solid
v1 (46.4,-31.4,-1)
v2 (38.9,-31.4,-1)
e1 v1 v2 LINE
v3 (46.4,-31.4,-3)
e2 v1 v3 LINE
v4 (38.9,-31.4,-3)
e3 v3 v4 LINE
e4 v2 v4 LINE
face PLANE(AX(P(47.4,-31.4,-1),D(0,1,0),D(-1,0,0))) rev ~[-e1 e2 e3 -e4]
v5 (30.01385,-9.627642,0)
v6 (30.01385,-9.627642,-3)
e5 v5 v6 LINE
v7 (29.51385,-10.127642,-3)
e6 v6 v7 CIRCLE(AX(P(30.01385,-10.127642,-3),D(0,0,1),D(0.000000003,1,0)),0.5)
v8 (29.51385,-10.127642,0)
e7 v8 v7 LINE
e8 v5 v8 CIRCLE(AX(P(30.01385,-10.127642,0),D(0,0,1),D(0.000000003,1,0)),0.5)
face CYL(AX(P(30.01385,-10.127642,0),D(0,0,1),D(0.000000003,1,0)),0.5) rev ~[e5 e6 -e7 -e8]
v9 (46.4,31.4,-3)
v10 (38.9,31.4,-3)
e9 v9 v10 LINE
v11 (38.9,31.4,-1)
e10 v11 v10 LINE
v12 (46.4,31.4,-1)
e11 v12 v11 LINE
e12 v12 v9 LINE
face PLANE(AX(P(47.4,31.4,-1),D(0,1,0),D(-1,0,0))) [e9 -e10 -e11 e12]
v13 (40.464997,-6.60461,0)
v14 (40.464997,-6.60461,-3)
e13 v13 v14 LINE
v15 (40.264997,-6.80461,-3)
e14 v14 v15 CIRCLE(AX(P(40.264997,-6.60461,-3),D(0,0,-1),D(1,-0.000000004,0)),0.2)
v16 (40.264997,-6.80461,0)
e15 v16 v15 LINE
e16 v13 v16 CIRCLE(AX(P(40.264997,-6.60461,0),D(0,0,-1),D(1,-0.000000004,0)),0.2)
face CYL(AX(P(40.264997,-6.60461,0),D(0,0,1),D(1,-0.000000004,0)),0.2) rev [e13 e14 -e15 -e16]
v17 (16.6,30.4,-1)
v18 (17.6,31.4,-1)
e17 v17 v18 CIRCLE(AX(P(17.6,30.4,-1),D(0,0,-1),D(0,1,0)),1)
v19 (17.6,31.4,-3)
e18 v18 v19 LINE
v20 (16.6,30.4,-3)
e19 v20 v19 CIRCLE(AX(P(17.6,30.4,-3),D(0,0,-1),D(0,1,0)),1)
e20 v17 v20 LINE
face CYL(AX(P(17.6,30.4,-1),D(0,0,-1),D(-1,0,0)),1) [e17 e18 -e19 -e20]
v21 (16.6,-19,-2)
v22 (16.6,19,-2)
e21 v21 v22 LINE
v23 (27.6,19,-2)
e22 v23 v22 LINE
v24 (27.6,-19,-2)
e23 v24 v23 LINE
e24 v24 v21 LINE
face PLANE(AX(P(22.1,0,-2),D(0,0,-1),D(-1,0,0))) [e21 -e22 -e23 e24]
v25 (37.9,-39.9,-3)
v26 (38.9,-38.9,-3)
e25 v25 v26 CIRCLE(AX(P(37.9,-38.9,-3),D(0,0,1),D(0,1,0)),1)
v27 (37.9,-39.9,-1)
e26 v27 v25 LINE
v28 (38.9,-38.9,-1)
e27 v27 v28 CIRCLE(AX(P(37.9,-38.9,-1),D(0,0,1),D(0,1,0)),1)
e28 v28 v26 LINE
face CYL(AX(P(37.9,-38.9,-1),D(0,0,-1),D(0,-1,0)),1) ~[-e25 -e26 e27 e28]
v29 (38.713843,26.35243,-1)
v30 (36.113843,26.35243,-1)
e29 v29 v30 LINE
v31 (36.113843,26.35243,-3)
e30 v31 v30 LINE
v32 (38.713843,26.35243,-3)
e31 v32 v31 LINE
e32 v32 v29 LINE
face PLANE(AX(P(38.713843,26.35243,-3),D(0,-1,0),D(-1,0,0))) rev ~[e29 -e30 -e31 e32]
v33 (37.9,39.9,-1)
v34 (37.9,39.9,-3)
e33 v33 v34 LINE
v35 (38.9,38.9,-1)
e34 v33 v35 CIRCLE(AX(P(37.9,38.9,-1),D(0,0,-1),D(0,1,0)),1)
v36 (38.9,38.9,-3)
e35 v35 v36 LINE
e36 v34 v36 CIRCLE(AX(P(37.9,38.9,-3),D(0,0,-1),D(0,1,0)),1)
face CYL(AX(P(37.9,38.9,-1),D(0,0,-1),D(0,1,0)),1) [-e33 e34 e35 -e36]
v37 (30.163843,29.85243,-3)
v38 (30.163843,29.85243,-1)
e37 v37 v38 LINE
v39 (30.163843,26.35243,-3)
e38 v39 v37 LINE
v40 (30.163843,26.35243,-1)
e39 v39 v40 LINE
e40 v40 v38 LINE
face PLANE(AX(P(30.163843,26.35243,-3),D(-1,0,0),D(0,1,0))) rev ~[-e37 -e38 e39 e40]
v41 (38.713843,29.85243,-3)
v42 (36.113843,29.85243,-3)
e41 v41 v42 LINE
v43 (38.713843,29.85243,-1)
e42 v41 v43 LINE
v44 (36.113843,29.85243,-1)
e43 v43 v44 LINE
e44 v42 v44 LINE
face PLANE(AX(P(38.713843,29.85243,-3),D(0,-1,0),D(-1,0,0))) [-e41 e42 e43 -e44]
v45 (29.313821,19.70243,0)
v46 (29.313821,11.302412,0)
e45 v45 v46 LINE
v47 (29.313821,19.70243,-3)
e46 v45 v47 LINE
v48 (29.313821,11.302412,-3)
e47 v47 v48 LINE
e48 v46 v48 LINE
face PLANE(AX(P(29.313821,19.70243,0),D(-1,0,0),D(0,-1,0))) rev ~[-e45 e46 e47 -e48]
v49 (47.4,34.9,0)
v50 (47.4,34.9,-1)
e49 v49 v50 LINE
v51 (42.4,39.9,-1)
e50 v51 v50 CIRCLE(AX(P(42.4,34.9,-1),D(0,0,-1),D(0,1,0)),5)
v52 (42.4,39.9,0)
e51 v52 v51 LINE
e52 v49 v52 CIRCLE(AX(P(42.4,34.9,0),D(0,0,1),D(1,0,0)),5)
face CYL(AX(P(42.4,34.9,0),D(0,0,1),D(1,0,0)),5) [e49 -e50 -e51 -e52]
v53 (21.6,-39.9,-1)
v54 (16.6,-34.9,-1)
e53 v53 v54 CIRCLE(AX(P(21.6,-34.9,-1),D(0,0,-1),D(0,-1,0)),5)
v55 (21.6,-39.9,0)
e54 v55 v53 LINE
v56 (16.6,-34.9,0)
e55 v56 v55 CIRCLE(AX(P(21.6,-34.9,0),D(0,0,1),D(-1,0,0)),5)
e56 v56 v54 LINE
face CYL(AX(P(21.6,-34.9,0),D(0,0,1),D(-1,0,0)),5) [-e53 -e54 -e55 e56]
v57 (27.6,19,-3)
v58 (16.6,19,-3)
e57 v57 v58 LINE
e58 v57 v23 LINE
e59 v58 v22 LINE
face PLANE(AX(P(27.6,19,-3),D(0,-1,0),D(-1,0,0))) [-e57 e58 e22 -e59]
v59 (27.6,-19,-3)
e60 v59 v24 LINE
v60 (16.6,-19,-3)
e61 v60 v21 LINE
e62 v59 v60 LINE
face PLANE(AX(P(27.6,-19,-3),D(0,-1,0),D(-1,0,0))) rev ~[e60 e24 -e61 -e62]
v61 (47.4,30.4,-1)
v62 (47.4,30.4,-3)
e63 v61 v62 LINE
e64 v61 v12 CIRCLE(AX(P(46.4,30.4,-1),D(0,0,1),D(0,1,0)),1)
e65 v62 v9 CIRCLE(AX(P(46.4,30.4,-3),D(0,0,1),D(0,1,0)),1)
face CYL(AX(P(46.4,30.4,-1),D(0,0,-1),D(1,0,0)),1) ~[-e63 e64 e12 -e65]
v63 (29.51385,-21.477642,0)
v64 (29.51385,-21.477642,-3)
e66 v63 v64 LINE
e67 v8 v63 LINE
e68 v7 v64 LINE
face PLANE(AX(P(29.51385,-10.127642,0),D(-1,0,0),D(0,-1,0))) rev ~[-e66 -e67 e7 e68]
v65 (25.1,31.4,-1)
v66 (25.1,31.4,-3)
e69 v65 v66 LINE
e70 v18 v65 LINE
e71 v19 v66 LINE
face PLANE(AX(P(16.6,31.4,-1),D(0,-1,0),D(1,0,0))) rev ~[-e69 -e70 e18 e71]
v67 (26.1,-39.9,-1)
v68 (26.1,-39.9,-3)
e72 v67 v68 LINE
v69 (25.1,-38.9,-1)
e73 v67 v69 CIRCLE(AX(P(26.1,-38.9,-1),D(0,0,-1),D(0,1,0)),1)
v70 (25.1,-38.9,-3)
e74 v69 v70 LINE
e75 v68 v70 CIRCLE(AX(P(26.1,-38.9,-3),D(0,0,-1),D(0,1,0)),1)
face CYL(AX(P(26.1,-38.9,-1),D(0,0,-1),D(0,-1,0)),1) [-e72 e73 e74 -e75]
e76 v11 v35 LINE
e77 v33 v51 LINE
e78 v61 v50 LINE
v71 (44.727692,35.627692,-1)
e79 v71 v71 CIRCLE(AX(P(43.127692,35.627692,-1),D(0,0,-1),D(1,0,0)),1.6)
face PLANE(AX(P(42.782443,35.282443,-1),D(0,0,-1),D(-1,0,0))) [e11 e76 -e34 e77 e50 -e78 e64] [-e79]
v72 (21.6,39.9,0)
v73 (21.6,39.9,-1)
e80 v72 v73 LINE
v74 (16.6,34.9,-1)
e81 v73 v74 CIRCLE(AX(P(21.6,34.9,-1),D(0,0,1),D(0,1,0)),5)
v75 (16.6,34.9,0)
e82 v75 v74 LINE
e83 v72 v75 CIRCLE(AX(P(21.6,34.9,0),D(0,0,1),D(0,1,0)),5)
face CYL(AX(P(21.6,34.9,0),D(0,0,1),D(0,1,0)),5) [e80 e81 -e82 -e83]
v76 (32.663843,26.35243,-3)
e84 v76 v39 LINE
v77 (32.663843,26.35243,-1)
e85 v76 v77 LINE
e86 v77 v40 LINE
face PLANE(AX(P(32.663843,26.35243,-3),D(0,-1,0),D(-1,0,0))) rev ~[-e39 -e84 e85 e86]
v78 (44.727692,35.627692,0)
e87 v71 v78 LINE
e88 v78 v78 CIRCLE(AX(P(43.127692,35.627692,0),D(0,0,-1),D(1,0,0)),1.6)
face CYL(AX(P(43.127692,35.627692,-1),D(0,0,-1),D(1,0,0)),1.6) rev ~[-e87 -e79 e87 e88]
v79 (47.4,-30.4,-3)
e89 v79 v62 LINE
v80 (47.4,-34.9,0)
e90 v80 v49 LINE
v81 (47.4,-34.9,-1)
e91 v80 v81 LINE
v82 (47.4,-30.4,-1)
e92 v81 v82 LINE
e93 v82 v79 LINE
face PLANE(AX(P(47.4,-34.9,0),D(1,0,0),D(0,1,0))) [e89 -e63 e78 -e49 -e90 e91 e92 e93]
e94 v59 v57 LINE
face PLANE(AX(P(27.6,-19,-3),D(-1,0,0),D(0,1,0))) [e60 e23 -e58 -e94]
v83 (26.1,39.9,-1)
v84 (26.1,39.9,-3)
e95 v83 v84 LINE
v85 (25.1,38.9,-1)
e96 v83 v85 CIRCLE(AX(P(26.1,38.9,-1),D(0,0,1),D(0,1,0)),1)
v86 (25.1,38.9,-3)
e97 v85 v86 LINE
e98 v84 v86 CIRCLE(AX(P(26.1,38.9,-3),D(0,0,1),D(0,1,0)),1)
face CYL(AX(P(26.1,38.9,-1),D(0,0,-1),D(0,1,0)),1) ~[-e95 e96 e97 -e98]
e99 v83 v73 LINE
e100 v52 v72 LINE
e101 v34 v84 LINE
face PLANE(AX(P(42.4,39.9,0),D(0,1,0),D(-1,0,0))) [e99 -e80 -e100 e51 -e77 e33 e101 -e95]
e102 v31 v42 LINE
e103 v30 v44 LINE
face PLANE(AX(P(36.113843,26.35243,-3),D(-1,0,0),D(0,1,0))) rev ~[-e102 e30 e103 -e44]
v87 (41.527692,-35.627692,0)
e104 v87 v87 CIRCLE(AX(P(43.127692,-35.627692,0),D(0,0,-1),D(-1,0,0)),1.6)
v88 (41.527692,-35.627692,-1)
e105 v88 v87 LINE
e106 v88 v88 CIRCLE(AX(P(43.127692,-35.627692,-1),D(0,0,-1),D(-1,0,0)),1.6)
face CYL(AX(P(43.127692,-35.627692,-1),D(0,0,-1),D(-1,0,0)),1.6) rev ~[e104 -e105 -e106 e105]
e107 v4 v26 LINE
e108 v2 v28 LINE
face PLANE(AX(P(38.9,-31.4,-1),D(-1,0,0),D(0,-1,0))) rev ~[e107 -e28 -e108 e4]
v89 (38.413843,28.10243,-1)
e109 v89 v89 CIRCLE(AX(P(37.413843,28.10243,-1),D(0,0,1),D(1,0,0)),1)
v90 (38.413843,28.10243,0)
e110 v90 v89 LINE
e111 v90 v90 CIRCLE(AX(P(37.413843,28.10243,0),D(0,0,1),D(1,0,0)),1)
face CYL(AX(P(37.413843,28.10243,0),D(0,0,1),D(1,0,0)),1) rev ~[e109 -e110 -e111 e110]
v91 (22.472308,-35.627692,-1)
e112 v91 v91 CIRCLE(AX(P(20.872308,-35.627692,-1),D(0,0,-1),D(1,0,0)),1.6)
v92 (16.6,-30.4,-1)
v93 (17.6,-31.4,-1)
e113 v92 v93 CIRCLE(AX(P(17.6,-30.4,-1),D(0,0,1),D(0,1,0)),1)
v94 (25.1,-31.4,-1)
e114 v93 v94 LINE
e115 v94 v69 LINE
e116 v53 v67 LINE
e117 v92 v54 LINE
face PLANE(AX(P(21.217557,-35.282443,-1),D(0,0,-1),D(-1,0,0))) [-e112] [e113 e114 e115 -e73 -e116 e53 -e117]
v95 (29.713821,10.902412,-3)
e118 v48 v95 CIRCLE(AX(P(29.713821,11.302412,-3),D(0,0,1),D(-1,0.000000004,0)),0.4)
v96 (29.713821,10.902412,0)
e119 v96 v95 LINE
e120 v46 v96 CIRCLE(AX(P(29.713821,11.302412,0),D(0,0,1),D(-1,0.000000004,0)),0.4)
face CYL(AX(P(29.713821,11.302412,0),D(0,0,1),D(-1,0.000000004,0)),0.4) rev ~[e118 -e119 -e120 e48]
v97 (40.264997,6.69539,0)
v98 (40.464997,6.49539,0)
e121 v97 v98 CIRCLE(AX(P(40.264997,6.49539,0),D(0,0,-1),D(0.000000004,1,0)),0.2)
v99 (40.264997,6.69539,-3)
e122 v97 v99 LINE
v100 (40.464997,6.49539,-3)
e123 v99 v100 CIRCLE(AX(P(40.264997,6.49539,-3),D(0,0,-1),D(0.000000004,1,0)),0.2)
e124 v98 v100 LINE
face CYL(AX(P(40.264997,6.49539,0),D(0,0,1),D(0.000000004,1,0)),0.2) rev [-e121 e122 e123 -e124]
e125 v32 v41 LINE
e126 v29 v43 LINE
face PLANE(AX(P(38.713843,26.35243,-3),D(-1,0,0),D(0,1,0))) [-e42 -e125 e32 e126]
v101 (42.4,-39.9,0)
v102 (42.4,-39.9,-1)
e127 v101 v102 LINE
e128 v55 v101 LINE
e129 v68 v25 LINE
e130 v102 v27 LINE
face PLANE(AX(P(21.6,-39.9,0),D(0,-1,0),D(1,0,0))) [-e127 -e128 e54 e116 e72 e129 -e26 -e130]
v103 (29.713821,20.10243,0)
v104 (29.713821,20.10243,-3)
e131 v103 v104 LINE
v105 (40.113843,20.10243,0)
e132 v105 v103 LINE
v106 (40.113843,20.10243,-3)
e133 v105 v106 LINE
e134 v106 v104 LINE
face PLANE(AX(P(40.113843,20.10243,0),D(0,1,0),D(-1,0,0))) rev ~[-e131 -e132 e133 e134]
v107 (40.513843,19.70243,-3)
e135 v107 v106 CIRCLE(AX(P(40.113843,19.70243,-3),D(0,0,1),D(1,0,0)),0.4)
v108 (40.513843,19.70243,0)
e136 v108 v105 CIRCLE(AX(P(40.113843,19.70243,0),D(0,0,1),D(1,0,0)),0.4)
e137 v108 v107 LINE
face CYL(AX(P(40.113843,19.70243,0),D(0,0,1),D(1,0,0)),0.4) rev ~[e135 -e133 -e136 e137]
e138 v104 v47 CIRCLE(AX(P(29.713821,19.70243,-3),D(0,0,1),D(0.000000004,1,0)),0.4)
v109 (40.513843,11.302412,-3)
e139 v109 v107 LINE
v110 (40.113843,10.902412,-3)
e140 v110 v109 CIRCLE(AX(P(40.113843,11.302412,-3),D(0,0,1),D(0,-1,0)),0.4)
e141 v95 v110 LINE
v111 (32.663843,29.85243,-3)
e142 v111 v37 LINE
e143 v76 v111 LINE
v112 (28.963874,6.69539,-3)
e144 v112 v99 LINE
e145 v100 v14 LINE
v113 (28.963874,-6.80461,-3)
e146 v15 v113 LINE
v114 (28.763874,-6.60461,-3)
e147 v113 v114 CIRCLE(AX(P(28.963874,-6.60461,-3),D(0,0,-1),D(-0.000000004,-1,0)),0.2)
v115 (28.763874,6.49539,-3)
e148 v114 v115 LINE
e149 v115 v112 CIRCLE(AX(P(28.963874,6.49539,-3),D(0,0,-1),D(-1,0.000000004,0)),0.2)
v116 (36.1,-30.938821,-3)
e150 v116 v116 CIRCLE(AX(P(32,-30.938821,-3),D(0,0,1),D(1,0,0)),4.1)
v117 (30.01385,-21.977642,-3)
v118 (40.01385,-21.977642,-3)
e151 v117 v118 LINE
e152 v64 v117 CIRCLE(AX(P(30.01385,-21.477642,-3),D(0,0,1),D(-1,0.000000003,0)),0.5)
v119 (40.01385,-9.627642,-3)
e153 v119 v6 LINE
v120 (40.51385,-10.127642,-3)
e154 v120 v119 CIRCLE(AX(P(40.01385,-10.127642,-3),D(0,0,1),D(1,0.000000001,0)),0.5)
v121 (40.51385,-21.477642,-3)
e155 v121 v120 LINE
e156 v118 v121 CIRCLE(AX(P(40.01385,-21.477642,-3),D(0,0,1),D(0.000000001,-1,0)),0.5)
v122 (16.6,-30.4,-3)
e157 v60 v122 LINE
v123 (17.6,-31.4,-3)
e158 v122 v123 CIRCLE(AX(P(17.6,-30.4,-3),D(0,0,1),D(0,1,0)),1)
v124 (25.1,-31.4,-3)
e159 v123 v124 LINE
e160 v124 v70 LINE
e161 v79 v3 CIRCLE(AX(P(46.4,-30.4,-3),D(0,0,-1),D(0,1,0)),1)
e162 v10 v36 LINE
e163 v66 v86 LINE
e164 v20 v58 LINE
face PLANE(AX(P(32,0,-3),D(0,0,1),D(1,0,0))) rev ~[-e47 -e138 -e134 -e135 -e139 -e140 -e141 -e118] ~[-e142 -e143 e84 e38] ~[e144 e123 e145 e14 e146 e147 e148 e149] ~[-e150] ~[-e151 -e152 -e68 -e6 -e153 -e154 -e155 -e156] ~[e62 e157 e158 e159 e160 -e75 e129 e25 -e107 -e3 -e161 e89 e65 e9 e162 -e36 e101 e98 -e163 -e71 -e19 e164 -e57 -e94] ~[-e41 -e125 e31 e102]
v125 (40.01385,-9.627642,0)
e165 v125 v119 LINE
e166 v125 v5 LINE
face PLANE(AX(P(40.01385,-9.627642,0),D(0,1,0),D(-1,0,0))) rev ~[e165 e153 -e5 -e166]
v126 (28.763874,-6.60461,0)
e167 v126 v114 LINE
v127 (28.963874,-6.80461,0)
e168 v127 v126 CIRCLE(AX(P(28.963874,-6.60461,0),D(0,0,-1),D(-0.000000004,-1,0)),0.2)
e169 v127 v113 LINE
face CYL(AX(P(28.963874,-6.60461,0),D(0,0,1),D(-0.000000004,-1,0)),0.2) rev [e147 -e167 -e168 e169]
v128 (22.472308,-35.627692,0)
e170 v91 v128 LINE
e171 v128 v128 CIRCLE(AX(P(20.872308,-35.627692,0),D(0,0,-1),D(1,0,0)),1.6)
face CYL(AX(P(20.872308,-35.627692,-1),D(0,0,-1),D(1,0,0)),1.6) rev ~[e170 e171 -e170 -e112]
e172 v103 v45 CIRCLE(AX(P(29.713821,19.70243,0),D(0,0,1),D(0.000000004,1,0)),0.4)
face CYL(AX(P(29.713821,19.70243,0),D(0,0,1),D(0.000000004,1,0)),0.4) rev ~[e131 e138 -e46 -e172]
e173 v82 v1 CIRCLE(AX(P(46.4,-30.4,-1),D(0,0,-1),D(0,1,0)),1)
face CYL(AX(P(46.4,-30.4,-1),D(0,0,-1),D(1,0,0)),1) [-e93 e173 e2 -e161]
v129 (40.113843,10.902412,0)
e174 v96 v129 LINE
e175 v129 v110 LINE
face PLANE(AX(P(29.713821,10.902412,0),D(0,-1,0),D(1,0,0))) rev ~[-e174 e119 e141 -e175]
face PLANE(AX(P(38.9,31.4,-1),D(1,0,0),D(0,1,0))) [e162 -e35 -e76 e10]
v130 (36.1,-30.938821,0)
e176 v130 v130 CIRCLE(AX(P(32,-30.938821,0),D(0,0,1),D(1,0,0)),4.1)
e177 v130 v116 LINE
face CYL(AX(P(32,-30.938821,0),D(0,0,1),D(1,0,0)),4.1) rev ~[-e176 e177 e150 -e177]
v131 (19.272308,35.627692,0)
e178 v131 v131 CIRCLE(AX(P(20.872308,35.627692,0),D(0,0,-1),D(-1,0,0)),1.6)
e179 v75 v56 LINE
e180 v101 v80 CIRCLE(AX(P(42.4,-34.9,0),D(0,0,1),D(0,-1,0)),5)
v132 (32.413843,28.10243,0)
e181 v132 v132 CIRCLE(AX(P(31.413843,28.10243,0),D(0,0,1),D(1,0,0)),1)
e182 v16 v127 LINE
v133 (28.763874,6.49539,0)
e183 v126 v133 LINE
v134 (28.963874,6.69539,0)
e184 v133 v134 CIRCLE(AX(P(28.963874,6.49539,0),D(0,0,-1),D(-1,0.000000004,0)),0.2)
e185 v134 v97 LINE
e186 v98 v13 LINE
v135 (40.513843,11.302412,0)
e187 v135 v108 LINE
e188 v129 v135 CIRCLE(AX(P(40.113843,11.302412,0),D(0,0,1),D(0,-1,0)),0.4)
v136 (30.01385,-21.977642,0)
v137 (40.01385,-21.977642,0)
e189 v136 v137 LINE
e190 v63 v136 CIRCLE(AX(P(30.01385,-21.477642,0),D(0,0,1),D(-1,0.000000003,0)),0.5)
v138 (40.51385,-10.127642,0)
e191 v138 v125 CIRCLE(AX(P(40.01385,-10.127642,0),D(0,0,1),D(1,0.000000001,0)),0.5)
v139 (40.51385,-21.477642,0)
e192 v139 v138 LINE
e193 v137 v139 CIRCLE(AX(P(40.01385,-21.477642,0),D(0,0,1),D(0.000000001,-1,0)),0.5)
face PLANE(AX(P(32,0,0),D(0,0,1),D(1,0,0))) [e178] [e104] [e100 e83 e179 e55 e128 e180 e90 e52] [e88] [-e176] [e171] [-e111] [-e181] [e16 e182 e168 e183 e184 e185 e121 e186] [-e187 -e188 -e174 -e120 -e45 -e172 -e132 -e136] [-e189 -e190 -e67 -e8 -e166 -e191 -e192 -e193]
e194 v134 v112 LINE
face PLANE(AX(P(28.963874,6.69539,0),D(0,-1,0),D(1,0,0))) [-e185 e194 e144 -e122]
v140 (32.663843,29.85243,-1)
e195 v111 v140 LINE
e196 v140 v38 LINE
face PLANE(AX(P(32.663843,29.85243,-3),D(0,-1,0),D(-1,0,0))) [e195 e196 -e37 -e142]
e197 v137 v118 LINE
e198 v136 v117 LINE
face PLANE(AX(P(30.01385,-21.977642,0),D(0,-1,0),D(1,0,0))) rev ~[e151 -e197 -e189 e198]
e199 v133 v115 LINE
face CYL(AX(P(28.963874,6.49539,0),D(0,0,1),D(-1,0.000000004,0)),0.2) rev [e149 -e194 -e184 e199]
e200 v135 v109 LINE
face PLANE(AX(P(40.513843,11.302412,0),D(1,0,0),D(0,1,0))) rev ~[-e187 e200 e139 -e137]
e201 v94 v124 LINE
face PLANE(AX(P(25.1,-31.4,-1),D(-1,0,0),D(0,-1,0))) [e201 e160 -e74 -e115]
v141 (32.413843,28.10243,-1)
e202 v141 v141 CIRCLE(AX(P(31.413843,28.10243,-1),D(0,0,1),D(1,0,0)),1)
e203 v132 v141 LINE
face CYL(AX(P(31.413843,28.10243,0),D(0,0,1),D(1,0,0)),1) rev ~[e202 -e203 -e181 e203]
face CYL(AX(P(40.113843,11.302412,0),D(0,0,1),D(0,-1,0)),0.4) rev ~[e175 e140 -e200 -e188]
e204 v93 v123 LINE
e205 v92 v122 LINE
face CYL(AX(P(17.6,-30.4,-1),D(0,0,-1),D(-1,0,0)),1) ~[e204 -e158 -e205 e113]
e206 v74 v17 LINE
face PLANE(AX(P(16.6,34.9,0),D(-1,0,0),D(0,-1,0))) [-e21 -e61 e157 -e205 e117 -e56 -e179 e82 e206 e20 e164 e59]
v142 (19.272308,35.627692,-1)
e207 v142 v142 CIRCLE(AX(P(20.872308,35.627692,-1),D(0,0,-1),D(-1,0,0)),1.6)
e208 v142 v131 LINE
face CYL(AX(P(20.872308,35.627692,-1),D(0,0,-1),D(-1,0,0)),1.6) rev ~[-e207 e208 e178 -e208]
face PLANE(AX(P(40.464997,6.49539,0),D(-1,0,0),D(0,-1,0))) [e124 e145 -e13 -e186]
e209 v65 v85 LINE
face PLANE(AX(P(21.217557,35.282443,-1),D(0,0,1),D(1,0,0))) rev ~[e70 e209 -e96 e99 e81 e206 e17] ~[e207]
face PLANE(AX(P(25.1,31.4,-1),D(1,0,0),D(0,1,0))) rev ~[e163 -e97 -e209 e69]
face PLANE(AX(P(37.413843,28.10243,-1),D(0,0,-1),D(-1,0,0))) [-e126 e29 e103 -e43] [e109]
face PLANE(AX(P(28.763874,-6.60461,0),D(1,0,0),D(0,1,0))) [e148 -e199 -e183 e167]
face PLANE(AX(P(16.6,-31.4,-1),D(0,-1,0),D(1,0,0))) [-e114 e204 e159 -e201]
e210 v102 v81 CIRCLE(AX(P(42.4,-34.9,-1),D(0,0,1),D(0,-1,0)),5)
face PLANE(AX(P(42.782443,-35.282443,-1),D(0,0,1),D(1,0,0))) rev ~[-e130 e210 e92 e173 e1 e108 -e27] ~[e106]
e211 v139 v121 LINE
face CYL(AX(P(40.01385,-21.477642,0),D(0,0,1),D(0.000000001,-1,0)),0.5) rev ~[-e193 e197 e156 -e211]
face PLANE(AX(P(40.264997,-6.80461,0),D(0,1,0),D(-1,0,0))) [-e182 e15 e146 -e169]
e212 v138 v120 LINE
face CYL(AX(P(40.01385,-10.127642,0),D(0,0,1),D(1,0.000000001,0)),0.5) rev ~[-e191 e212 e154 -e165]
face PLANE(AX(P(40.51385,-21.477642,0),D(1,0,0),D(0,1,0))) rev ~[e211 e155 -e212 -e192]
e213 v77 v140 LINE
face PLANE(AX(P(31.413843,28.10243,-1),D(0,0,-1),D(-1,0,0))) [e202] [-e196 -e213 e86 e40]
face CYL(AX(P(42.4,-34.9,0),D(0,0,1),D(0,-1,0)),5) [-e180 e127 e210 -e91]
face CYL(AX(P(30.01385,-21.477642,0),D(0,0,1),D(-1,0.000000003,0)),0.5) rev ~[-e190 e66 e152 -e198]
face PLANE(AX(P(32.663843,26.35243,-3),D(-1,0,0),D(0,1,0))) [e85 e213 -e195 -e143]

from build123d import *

# Parameters (mm, degrees)
SKETCH_1_R          = 1
EXTRUDE_1_DEPTH     = 3
SKETCH_2_W          = 11
SKETCH_2_H          = 38
CUT_EXTRUDE_1_DEPTH = 1
CUT_EXTRUDE_START   = -2
CUT_EXTRUDE_2_DEPTH = 2
SKETCH_4_R          = 1.6
CUT_EXTRUDE_3_DEPTH = 62.990079852
SKETCH_6_W          = 2.6
SKETCH_6_H          = 3.5
SKETCH_6_W_2        = 2.5
CUT_EXTRUDE_4_DEPTH = 2
SKETCH_7_R          = 4.1
CUT_EXTRUDE_5_DEPTH = 63.030395775
FILLET_1_R          = 1


with BuildPart() as part:
    # 草图1 → 凸台-拉伸1 (new body)
    with BuildSketch(Plane.XY):
        with BuildLine():
            Line((47.4, -34.9), (47.4, 34.9))
            ThreePointArc((47.4, 34.9), (45.935533906, 38.435533906), (42.4, 39.9))
            Line((42.4, 39.9), (21.6, 39.9))
            ThreePointArc((21.6, 39.9), (18.064466094, 38.435533906), (16.6, 34.9))
            Line((16.6, 34.9), (16.6, -34.9))
            ThreePointArc((16.6, -34.9), (18.064466094, -38.435533906), (21.6, -39.9))
            Line((21.6, -39.9), (42.4, -39.9))
            ThreePointArc((42.4, -39.9), (45.935533906, -38.435533906), (47.4, -34.9))
        make_face()
        with Locations((37.413843028, 28.102429875)):
            Circle(SKETCH_1_R, mode=Mode.SUBTRACT)
        with Locations((31.413843028, 28.102429875)):
            Circle(SKETCH_1_R, mode=Mode.SUBTRACT)
        with BuildLine():
            Line((40.513850359, -21.477641558), (40.513850359, -10.127641653))
            ThreePointArc((40.513850359, -10.127641653), (40.367403749, -9.774088262), (40.013850359, -9.627641653))
            Line((40.013850359, -9.627641653), (30.013850359, -9.627641653))
            ThreePointArc((30.013850359, -9.627641653), (29.660296968, -9.774088262), (29.513850359, -10.127641653))
            Line((29.513850359, -10.127641653), (29.513850359, -21.477641558))
            ThreePointArc((29.513850359, -21.477641558), (29.660296968, -21.831194949), (30.013850359, -21.977641558))
            Line((30.013850359, -21.977641558), (40.013850359, -21.977641558))
            ThreePointArc((40.013850359, -21.977641558), (40.367403749, -21.831194949), (40.513850359, -21.477641558))
        make_face(mode=Mode.SUBTRACT)
        with BuildLine():
            Line((40.464996896, 6.495389649), (40.464996896, -6.604609867))
            ThreePointArc((40.464996896, -6.604609867), (40.406418252, -6.746031223), (40.264996896, -6.804609867))
            Line((40.264996896, -6.804609867), (28.963873947, -6.804609867))
            ThreePointArc((28.963873947, -6.804609867), (28.822452591, -6.746031223), (28.763873947, -6.604609867))
            Line((28.763873947, -6.604609867), (28.763873947, 6.495389649))
            ThreePointArc((28.763873947, 6.495389649), (28.822452591, 6.636811005), (28.963873947, 6.695389649))
            Line((28.963873947, 6.695389649), (40.264996896, 6.695389649))
            ThreePointArc((40.264996896, 6.695389649), (40.406418252, 6.636811005), (40.464996896, 6.495389649))
        make_face(mode=Mode.SUBTRACT)
        with BuildLine():
            Line((40.513843009, 11.302412116), (40.513843009, 19.702429875))
            ThreePointArc((40.513843009, 19.702429875), (40.396685721, 19.985272588), (40.113843009, 20.102429875))
            Line((40.113843009, 20.102429875), (29.713821303, 20.102429875))
            ThreePointArc((29.713821303, 20.102429875), (29.43097859, 19.985272588), (29.313821303, 19.702429875))
            Line((29.313821303, 19.702429875), (29.313821303, 11.302412116))
            ThreePointArc((29.313821303, 11.302412116), (29.43097859, 11.019569403), (29.713821303, 10.902412116))
            Line((29.713821303, 10.902412116), (40.113843009, 10.902412116))
            ThreePointArc((40.113843009, 10.902412116), (40.396685721, 11.019569403), (40.513843009, 11.302412116))
        make_face(mode=Mode.SUBTRACT)
    extrude(amount=-EXTRUDE_1_DEPTH)

    # 草图2 → 切除-拉伸1 (cut)
    with BuildSketch(Plane(origin=(0, 0, -3), x_dir=(-1, 0, 0), z_dir=(0, 0, -1))):
        with Locations((-22.1, 0)):
            Rectangle(SKETCH_2_W, SKETCH_2_H)
    extrude(amount=-CUT_EXTRUDE_1_DEPTH, mode=Mode.SUBTRACT)

    # 草图3 → 切除-拉伸2 (cut)
    with BuildSketch(Plane(origin=(0, 0, -3), x_dir=(-1, 0, 0), z_dir=(0, 0, -1)).offset(CUT_EXTRUDE_START)):
        with BuildLine():
            Line((-47.4, -31.4), (-38.9, -31.4))
            Line((-38.9, -31.4), (-38.9, -39.9))
            Line((-38.9, -39.9), (-42.4, -39.9))
            ThreePointArc((-42.4, -39.9), (-45.935533906, -38.435533906), (-47.4, -34.9))
            Line((-47.4, -34.9), (-47.4, -31.4))
        make_face()
        with BuildLine():
            Line((-47.4, 34.9), (-47.4, 31.4))
            Line((-47.4, 31.4), (-38.9, 31.4))
            Line((-38.9, 31.4), (-38.9, 39.9))
            Line((-38.9, 39.9), (-42.4, 39.9))
            ThreePointArc((-42.4, 39.9), (-45.935533906, 38.435533906), (-47.4, 34.9))
        make_face()
        with BuildLine():
            Line((-16.6, 31.4), (-25.1, 31.4))
            Line((-25.1, 31.4), (-25.1, 39.9))
            Line((-25.1, 39.9), (-21.6, 39.9))
            ThreePointArc((-21.6, 39.9), (-18.064466094, 38.435533906), (-16.6, 34.9))
            Line((-16.6, 34.9), (-16.6, 31.4))
        make_face()
        with BuildLine():
            Line((-16.6, -34.9), (-16.6, -31.4))
            Line((-16.6, -31.4), (-25.1, -31.4))
            Line((-25.1, -31.4), (-25.1, -39.9))
            Line((-25.1, -39.9), (-21.6, -39.9))
            ThreePointArc((-21.6, -39.9), (-18.064466094, -38.435533906), (-16.6, -34.9))
        make_face()
    extrude(amount=CUT_EXTRUDE_2_DEPTH, mode=Mode.SUBTRACT)

    # 草图4 → 切除-拉伸3 (cut, through all)
    with BuildSketch(Plane(origin=(0, 0, -1), x_dir=(-1, 0, 0), z_dir=(0, 0, -1))):
        with Locations((-20.872307757, 35.627692243)):
            Circle(SKETCH_4_R)
        with Locations(Location((-20.872307757, -35.627692243, 0), (0, 0, 180))):
            Circle(SKETCH_4_R)
        with Locations((-43.127692243, -35.627692243)):
            Circle(SKETCH_4_R)
        with Locations(Location((-43.127692243, 35.627692243, 0), (0, 0, 180))):
            Circle(SKETCH_4_R)
    extrude(amount=-CUT_EXTRUDE_3_DEPTH, mode=Mode.SUBTRACT)

    # 草图6 → 切除-拉伸4 (cut)
    with BuildSketch(Plane(origin=(0, 0, -3), x_dir=(-1, 0, 0), z_dir=(0, 0, -1))):
        with Locations((-37.413843028, 28.102429875)):
            Rectangle(SKETCH_6_W, SKETCH_6_H)
        with Locations((-31.413843028, 28.102429875)):
            Rectangle(SKETCH_6_W_2, SKETCH_6_H)
    extrude(amount=-CUT_EXTRUDE_4_DEPTH, mode=Mode.SUBTRACT)

    # 草图7 → 切除-拉伸5 (cut, through all)
    with BuildSketch(Plane.XY):
        with Locations((32, -30.938820779)):
            Circle(SKETCH_7_R)
    extrude(amount=-CUT_EXTRUDE_5_DEPTH, mode=Mode.SUBTRACT)

    # 圆角1
    fillet_1_edges = [part.edges().sort_by_distance(p)[0] for p in [
        (25.1, -39.9, -2),
        (16.6, -31.4, -2),
        (16.6, 31.4, -2),
        (25.1, 39.9, -2),
        (38.9, 39.9, -2),
        (47.4, 31.4, -2),
        (47.4, -31.4, -2),
        (38.9, -39.9, -2),
    ]]
    fillet(fillet_1_edges, radius=FILLET_1_R)


solid = part.part
